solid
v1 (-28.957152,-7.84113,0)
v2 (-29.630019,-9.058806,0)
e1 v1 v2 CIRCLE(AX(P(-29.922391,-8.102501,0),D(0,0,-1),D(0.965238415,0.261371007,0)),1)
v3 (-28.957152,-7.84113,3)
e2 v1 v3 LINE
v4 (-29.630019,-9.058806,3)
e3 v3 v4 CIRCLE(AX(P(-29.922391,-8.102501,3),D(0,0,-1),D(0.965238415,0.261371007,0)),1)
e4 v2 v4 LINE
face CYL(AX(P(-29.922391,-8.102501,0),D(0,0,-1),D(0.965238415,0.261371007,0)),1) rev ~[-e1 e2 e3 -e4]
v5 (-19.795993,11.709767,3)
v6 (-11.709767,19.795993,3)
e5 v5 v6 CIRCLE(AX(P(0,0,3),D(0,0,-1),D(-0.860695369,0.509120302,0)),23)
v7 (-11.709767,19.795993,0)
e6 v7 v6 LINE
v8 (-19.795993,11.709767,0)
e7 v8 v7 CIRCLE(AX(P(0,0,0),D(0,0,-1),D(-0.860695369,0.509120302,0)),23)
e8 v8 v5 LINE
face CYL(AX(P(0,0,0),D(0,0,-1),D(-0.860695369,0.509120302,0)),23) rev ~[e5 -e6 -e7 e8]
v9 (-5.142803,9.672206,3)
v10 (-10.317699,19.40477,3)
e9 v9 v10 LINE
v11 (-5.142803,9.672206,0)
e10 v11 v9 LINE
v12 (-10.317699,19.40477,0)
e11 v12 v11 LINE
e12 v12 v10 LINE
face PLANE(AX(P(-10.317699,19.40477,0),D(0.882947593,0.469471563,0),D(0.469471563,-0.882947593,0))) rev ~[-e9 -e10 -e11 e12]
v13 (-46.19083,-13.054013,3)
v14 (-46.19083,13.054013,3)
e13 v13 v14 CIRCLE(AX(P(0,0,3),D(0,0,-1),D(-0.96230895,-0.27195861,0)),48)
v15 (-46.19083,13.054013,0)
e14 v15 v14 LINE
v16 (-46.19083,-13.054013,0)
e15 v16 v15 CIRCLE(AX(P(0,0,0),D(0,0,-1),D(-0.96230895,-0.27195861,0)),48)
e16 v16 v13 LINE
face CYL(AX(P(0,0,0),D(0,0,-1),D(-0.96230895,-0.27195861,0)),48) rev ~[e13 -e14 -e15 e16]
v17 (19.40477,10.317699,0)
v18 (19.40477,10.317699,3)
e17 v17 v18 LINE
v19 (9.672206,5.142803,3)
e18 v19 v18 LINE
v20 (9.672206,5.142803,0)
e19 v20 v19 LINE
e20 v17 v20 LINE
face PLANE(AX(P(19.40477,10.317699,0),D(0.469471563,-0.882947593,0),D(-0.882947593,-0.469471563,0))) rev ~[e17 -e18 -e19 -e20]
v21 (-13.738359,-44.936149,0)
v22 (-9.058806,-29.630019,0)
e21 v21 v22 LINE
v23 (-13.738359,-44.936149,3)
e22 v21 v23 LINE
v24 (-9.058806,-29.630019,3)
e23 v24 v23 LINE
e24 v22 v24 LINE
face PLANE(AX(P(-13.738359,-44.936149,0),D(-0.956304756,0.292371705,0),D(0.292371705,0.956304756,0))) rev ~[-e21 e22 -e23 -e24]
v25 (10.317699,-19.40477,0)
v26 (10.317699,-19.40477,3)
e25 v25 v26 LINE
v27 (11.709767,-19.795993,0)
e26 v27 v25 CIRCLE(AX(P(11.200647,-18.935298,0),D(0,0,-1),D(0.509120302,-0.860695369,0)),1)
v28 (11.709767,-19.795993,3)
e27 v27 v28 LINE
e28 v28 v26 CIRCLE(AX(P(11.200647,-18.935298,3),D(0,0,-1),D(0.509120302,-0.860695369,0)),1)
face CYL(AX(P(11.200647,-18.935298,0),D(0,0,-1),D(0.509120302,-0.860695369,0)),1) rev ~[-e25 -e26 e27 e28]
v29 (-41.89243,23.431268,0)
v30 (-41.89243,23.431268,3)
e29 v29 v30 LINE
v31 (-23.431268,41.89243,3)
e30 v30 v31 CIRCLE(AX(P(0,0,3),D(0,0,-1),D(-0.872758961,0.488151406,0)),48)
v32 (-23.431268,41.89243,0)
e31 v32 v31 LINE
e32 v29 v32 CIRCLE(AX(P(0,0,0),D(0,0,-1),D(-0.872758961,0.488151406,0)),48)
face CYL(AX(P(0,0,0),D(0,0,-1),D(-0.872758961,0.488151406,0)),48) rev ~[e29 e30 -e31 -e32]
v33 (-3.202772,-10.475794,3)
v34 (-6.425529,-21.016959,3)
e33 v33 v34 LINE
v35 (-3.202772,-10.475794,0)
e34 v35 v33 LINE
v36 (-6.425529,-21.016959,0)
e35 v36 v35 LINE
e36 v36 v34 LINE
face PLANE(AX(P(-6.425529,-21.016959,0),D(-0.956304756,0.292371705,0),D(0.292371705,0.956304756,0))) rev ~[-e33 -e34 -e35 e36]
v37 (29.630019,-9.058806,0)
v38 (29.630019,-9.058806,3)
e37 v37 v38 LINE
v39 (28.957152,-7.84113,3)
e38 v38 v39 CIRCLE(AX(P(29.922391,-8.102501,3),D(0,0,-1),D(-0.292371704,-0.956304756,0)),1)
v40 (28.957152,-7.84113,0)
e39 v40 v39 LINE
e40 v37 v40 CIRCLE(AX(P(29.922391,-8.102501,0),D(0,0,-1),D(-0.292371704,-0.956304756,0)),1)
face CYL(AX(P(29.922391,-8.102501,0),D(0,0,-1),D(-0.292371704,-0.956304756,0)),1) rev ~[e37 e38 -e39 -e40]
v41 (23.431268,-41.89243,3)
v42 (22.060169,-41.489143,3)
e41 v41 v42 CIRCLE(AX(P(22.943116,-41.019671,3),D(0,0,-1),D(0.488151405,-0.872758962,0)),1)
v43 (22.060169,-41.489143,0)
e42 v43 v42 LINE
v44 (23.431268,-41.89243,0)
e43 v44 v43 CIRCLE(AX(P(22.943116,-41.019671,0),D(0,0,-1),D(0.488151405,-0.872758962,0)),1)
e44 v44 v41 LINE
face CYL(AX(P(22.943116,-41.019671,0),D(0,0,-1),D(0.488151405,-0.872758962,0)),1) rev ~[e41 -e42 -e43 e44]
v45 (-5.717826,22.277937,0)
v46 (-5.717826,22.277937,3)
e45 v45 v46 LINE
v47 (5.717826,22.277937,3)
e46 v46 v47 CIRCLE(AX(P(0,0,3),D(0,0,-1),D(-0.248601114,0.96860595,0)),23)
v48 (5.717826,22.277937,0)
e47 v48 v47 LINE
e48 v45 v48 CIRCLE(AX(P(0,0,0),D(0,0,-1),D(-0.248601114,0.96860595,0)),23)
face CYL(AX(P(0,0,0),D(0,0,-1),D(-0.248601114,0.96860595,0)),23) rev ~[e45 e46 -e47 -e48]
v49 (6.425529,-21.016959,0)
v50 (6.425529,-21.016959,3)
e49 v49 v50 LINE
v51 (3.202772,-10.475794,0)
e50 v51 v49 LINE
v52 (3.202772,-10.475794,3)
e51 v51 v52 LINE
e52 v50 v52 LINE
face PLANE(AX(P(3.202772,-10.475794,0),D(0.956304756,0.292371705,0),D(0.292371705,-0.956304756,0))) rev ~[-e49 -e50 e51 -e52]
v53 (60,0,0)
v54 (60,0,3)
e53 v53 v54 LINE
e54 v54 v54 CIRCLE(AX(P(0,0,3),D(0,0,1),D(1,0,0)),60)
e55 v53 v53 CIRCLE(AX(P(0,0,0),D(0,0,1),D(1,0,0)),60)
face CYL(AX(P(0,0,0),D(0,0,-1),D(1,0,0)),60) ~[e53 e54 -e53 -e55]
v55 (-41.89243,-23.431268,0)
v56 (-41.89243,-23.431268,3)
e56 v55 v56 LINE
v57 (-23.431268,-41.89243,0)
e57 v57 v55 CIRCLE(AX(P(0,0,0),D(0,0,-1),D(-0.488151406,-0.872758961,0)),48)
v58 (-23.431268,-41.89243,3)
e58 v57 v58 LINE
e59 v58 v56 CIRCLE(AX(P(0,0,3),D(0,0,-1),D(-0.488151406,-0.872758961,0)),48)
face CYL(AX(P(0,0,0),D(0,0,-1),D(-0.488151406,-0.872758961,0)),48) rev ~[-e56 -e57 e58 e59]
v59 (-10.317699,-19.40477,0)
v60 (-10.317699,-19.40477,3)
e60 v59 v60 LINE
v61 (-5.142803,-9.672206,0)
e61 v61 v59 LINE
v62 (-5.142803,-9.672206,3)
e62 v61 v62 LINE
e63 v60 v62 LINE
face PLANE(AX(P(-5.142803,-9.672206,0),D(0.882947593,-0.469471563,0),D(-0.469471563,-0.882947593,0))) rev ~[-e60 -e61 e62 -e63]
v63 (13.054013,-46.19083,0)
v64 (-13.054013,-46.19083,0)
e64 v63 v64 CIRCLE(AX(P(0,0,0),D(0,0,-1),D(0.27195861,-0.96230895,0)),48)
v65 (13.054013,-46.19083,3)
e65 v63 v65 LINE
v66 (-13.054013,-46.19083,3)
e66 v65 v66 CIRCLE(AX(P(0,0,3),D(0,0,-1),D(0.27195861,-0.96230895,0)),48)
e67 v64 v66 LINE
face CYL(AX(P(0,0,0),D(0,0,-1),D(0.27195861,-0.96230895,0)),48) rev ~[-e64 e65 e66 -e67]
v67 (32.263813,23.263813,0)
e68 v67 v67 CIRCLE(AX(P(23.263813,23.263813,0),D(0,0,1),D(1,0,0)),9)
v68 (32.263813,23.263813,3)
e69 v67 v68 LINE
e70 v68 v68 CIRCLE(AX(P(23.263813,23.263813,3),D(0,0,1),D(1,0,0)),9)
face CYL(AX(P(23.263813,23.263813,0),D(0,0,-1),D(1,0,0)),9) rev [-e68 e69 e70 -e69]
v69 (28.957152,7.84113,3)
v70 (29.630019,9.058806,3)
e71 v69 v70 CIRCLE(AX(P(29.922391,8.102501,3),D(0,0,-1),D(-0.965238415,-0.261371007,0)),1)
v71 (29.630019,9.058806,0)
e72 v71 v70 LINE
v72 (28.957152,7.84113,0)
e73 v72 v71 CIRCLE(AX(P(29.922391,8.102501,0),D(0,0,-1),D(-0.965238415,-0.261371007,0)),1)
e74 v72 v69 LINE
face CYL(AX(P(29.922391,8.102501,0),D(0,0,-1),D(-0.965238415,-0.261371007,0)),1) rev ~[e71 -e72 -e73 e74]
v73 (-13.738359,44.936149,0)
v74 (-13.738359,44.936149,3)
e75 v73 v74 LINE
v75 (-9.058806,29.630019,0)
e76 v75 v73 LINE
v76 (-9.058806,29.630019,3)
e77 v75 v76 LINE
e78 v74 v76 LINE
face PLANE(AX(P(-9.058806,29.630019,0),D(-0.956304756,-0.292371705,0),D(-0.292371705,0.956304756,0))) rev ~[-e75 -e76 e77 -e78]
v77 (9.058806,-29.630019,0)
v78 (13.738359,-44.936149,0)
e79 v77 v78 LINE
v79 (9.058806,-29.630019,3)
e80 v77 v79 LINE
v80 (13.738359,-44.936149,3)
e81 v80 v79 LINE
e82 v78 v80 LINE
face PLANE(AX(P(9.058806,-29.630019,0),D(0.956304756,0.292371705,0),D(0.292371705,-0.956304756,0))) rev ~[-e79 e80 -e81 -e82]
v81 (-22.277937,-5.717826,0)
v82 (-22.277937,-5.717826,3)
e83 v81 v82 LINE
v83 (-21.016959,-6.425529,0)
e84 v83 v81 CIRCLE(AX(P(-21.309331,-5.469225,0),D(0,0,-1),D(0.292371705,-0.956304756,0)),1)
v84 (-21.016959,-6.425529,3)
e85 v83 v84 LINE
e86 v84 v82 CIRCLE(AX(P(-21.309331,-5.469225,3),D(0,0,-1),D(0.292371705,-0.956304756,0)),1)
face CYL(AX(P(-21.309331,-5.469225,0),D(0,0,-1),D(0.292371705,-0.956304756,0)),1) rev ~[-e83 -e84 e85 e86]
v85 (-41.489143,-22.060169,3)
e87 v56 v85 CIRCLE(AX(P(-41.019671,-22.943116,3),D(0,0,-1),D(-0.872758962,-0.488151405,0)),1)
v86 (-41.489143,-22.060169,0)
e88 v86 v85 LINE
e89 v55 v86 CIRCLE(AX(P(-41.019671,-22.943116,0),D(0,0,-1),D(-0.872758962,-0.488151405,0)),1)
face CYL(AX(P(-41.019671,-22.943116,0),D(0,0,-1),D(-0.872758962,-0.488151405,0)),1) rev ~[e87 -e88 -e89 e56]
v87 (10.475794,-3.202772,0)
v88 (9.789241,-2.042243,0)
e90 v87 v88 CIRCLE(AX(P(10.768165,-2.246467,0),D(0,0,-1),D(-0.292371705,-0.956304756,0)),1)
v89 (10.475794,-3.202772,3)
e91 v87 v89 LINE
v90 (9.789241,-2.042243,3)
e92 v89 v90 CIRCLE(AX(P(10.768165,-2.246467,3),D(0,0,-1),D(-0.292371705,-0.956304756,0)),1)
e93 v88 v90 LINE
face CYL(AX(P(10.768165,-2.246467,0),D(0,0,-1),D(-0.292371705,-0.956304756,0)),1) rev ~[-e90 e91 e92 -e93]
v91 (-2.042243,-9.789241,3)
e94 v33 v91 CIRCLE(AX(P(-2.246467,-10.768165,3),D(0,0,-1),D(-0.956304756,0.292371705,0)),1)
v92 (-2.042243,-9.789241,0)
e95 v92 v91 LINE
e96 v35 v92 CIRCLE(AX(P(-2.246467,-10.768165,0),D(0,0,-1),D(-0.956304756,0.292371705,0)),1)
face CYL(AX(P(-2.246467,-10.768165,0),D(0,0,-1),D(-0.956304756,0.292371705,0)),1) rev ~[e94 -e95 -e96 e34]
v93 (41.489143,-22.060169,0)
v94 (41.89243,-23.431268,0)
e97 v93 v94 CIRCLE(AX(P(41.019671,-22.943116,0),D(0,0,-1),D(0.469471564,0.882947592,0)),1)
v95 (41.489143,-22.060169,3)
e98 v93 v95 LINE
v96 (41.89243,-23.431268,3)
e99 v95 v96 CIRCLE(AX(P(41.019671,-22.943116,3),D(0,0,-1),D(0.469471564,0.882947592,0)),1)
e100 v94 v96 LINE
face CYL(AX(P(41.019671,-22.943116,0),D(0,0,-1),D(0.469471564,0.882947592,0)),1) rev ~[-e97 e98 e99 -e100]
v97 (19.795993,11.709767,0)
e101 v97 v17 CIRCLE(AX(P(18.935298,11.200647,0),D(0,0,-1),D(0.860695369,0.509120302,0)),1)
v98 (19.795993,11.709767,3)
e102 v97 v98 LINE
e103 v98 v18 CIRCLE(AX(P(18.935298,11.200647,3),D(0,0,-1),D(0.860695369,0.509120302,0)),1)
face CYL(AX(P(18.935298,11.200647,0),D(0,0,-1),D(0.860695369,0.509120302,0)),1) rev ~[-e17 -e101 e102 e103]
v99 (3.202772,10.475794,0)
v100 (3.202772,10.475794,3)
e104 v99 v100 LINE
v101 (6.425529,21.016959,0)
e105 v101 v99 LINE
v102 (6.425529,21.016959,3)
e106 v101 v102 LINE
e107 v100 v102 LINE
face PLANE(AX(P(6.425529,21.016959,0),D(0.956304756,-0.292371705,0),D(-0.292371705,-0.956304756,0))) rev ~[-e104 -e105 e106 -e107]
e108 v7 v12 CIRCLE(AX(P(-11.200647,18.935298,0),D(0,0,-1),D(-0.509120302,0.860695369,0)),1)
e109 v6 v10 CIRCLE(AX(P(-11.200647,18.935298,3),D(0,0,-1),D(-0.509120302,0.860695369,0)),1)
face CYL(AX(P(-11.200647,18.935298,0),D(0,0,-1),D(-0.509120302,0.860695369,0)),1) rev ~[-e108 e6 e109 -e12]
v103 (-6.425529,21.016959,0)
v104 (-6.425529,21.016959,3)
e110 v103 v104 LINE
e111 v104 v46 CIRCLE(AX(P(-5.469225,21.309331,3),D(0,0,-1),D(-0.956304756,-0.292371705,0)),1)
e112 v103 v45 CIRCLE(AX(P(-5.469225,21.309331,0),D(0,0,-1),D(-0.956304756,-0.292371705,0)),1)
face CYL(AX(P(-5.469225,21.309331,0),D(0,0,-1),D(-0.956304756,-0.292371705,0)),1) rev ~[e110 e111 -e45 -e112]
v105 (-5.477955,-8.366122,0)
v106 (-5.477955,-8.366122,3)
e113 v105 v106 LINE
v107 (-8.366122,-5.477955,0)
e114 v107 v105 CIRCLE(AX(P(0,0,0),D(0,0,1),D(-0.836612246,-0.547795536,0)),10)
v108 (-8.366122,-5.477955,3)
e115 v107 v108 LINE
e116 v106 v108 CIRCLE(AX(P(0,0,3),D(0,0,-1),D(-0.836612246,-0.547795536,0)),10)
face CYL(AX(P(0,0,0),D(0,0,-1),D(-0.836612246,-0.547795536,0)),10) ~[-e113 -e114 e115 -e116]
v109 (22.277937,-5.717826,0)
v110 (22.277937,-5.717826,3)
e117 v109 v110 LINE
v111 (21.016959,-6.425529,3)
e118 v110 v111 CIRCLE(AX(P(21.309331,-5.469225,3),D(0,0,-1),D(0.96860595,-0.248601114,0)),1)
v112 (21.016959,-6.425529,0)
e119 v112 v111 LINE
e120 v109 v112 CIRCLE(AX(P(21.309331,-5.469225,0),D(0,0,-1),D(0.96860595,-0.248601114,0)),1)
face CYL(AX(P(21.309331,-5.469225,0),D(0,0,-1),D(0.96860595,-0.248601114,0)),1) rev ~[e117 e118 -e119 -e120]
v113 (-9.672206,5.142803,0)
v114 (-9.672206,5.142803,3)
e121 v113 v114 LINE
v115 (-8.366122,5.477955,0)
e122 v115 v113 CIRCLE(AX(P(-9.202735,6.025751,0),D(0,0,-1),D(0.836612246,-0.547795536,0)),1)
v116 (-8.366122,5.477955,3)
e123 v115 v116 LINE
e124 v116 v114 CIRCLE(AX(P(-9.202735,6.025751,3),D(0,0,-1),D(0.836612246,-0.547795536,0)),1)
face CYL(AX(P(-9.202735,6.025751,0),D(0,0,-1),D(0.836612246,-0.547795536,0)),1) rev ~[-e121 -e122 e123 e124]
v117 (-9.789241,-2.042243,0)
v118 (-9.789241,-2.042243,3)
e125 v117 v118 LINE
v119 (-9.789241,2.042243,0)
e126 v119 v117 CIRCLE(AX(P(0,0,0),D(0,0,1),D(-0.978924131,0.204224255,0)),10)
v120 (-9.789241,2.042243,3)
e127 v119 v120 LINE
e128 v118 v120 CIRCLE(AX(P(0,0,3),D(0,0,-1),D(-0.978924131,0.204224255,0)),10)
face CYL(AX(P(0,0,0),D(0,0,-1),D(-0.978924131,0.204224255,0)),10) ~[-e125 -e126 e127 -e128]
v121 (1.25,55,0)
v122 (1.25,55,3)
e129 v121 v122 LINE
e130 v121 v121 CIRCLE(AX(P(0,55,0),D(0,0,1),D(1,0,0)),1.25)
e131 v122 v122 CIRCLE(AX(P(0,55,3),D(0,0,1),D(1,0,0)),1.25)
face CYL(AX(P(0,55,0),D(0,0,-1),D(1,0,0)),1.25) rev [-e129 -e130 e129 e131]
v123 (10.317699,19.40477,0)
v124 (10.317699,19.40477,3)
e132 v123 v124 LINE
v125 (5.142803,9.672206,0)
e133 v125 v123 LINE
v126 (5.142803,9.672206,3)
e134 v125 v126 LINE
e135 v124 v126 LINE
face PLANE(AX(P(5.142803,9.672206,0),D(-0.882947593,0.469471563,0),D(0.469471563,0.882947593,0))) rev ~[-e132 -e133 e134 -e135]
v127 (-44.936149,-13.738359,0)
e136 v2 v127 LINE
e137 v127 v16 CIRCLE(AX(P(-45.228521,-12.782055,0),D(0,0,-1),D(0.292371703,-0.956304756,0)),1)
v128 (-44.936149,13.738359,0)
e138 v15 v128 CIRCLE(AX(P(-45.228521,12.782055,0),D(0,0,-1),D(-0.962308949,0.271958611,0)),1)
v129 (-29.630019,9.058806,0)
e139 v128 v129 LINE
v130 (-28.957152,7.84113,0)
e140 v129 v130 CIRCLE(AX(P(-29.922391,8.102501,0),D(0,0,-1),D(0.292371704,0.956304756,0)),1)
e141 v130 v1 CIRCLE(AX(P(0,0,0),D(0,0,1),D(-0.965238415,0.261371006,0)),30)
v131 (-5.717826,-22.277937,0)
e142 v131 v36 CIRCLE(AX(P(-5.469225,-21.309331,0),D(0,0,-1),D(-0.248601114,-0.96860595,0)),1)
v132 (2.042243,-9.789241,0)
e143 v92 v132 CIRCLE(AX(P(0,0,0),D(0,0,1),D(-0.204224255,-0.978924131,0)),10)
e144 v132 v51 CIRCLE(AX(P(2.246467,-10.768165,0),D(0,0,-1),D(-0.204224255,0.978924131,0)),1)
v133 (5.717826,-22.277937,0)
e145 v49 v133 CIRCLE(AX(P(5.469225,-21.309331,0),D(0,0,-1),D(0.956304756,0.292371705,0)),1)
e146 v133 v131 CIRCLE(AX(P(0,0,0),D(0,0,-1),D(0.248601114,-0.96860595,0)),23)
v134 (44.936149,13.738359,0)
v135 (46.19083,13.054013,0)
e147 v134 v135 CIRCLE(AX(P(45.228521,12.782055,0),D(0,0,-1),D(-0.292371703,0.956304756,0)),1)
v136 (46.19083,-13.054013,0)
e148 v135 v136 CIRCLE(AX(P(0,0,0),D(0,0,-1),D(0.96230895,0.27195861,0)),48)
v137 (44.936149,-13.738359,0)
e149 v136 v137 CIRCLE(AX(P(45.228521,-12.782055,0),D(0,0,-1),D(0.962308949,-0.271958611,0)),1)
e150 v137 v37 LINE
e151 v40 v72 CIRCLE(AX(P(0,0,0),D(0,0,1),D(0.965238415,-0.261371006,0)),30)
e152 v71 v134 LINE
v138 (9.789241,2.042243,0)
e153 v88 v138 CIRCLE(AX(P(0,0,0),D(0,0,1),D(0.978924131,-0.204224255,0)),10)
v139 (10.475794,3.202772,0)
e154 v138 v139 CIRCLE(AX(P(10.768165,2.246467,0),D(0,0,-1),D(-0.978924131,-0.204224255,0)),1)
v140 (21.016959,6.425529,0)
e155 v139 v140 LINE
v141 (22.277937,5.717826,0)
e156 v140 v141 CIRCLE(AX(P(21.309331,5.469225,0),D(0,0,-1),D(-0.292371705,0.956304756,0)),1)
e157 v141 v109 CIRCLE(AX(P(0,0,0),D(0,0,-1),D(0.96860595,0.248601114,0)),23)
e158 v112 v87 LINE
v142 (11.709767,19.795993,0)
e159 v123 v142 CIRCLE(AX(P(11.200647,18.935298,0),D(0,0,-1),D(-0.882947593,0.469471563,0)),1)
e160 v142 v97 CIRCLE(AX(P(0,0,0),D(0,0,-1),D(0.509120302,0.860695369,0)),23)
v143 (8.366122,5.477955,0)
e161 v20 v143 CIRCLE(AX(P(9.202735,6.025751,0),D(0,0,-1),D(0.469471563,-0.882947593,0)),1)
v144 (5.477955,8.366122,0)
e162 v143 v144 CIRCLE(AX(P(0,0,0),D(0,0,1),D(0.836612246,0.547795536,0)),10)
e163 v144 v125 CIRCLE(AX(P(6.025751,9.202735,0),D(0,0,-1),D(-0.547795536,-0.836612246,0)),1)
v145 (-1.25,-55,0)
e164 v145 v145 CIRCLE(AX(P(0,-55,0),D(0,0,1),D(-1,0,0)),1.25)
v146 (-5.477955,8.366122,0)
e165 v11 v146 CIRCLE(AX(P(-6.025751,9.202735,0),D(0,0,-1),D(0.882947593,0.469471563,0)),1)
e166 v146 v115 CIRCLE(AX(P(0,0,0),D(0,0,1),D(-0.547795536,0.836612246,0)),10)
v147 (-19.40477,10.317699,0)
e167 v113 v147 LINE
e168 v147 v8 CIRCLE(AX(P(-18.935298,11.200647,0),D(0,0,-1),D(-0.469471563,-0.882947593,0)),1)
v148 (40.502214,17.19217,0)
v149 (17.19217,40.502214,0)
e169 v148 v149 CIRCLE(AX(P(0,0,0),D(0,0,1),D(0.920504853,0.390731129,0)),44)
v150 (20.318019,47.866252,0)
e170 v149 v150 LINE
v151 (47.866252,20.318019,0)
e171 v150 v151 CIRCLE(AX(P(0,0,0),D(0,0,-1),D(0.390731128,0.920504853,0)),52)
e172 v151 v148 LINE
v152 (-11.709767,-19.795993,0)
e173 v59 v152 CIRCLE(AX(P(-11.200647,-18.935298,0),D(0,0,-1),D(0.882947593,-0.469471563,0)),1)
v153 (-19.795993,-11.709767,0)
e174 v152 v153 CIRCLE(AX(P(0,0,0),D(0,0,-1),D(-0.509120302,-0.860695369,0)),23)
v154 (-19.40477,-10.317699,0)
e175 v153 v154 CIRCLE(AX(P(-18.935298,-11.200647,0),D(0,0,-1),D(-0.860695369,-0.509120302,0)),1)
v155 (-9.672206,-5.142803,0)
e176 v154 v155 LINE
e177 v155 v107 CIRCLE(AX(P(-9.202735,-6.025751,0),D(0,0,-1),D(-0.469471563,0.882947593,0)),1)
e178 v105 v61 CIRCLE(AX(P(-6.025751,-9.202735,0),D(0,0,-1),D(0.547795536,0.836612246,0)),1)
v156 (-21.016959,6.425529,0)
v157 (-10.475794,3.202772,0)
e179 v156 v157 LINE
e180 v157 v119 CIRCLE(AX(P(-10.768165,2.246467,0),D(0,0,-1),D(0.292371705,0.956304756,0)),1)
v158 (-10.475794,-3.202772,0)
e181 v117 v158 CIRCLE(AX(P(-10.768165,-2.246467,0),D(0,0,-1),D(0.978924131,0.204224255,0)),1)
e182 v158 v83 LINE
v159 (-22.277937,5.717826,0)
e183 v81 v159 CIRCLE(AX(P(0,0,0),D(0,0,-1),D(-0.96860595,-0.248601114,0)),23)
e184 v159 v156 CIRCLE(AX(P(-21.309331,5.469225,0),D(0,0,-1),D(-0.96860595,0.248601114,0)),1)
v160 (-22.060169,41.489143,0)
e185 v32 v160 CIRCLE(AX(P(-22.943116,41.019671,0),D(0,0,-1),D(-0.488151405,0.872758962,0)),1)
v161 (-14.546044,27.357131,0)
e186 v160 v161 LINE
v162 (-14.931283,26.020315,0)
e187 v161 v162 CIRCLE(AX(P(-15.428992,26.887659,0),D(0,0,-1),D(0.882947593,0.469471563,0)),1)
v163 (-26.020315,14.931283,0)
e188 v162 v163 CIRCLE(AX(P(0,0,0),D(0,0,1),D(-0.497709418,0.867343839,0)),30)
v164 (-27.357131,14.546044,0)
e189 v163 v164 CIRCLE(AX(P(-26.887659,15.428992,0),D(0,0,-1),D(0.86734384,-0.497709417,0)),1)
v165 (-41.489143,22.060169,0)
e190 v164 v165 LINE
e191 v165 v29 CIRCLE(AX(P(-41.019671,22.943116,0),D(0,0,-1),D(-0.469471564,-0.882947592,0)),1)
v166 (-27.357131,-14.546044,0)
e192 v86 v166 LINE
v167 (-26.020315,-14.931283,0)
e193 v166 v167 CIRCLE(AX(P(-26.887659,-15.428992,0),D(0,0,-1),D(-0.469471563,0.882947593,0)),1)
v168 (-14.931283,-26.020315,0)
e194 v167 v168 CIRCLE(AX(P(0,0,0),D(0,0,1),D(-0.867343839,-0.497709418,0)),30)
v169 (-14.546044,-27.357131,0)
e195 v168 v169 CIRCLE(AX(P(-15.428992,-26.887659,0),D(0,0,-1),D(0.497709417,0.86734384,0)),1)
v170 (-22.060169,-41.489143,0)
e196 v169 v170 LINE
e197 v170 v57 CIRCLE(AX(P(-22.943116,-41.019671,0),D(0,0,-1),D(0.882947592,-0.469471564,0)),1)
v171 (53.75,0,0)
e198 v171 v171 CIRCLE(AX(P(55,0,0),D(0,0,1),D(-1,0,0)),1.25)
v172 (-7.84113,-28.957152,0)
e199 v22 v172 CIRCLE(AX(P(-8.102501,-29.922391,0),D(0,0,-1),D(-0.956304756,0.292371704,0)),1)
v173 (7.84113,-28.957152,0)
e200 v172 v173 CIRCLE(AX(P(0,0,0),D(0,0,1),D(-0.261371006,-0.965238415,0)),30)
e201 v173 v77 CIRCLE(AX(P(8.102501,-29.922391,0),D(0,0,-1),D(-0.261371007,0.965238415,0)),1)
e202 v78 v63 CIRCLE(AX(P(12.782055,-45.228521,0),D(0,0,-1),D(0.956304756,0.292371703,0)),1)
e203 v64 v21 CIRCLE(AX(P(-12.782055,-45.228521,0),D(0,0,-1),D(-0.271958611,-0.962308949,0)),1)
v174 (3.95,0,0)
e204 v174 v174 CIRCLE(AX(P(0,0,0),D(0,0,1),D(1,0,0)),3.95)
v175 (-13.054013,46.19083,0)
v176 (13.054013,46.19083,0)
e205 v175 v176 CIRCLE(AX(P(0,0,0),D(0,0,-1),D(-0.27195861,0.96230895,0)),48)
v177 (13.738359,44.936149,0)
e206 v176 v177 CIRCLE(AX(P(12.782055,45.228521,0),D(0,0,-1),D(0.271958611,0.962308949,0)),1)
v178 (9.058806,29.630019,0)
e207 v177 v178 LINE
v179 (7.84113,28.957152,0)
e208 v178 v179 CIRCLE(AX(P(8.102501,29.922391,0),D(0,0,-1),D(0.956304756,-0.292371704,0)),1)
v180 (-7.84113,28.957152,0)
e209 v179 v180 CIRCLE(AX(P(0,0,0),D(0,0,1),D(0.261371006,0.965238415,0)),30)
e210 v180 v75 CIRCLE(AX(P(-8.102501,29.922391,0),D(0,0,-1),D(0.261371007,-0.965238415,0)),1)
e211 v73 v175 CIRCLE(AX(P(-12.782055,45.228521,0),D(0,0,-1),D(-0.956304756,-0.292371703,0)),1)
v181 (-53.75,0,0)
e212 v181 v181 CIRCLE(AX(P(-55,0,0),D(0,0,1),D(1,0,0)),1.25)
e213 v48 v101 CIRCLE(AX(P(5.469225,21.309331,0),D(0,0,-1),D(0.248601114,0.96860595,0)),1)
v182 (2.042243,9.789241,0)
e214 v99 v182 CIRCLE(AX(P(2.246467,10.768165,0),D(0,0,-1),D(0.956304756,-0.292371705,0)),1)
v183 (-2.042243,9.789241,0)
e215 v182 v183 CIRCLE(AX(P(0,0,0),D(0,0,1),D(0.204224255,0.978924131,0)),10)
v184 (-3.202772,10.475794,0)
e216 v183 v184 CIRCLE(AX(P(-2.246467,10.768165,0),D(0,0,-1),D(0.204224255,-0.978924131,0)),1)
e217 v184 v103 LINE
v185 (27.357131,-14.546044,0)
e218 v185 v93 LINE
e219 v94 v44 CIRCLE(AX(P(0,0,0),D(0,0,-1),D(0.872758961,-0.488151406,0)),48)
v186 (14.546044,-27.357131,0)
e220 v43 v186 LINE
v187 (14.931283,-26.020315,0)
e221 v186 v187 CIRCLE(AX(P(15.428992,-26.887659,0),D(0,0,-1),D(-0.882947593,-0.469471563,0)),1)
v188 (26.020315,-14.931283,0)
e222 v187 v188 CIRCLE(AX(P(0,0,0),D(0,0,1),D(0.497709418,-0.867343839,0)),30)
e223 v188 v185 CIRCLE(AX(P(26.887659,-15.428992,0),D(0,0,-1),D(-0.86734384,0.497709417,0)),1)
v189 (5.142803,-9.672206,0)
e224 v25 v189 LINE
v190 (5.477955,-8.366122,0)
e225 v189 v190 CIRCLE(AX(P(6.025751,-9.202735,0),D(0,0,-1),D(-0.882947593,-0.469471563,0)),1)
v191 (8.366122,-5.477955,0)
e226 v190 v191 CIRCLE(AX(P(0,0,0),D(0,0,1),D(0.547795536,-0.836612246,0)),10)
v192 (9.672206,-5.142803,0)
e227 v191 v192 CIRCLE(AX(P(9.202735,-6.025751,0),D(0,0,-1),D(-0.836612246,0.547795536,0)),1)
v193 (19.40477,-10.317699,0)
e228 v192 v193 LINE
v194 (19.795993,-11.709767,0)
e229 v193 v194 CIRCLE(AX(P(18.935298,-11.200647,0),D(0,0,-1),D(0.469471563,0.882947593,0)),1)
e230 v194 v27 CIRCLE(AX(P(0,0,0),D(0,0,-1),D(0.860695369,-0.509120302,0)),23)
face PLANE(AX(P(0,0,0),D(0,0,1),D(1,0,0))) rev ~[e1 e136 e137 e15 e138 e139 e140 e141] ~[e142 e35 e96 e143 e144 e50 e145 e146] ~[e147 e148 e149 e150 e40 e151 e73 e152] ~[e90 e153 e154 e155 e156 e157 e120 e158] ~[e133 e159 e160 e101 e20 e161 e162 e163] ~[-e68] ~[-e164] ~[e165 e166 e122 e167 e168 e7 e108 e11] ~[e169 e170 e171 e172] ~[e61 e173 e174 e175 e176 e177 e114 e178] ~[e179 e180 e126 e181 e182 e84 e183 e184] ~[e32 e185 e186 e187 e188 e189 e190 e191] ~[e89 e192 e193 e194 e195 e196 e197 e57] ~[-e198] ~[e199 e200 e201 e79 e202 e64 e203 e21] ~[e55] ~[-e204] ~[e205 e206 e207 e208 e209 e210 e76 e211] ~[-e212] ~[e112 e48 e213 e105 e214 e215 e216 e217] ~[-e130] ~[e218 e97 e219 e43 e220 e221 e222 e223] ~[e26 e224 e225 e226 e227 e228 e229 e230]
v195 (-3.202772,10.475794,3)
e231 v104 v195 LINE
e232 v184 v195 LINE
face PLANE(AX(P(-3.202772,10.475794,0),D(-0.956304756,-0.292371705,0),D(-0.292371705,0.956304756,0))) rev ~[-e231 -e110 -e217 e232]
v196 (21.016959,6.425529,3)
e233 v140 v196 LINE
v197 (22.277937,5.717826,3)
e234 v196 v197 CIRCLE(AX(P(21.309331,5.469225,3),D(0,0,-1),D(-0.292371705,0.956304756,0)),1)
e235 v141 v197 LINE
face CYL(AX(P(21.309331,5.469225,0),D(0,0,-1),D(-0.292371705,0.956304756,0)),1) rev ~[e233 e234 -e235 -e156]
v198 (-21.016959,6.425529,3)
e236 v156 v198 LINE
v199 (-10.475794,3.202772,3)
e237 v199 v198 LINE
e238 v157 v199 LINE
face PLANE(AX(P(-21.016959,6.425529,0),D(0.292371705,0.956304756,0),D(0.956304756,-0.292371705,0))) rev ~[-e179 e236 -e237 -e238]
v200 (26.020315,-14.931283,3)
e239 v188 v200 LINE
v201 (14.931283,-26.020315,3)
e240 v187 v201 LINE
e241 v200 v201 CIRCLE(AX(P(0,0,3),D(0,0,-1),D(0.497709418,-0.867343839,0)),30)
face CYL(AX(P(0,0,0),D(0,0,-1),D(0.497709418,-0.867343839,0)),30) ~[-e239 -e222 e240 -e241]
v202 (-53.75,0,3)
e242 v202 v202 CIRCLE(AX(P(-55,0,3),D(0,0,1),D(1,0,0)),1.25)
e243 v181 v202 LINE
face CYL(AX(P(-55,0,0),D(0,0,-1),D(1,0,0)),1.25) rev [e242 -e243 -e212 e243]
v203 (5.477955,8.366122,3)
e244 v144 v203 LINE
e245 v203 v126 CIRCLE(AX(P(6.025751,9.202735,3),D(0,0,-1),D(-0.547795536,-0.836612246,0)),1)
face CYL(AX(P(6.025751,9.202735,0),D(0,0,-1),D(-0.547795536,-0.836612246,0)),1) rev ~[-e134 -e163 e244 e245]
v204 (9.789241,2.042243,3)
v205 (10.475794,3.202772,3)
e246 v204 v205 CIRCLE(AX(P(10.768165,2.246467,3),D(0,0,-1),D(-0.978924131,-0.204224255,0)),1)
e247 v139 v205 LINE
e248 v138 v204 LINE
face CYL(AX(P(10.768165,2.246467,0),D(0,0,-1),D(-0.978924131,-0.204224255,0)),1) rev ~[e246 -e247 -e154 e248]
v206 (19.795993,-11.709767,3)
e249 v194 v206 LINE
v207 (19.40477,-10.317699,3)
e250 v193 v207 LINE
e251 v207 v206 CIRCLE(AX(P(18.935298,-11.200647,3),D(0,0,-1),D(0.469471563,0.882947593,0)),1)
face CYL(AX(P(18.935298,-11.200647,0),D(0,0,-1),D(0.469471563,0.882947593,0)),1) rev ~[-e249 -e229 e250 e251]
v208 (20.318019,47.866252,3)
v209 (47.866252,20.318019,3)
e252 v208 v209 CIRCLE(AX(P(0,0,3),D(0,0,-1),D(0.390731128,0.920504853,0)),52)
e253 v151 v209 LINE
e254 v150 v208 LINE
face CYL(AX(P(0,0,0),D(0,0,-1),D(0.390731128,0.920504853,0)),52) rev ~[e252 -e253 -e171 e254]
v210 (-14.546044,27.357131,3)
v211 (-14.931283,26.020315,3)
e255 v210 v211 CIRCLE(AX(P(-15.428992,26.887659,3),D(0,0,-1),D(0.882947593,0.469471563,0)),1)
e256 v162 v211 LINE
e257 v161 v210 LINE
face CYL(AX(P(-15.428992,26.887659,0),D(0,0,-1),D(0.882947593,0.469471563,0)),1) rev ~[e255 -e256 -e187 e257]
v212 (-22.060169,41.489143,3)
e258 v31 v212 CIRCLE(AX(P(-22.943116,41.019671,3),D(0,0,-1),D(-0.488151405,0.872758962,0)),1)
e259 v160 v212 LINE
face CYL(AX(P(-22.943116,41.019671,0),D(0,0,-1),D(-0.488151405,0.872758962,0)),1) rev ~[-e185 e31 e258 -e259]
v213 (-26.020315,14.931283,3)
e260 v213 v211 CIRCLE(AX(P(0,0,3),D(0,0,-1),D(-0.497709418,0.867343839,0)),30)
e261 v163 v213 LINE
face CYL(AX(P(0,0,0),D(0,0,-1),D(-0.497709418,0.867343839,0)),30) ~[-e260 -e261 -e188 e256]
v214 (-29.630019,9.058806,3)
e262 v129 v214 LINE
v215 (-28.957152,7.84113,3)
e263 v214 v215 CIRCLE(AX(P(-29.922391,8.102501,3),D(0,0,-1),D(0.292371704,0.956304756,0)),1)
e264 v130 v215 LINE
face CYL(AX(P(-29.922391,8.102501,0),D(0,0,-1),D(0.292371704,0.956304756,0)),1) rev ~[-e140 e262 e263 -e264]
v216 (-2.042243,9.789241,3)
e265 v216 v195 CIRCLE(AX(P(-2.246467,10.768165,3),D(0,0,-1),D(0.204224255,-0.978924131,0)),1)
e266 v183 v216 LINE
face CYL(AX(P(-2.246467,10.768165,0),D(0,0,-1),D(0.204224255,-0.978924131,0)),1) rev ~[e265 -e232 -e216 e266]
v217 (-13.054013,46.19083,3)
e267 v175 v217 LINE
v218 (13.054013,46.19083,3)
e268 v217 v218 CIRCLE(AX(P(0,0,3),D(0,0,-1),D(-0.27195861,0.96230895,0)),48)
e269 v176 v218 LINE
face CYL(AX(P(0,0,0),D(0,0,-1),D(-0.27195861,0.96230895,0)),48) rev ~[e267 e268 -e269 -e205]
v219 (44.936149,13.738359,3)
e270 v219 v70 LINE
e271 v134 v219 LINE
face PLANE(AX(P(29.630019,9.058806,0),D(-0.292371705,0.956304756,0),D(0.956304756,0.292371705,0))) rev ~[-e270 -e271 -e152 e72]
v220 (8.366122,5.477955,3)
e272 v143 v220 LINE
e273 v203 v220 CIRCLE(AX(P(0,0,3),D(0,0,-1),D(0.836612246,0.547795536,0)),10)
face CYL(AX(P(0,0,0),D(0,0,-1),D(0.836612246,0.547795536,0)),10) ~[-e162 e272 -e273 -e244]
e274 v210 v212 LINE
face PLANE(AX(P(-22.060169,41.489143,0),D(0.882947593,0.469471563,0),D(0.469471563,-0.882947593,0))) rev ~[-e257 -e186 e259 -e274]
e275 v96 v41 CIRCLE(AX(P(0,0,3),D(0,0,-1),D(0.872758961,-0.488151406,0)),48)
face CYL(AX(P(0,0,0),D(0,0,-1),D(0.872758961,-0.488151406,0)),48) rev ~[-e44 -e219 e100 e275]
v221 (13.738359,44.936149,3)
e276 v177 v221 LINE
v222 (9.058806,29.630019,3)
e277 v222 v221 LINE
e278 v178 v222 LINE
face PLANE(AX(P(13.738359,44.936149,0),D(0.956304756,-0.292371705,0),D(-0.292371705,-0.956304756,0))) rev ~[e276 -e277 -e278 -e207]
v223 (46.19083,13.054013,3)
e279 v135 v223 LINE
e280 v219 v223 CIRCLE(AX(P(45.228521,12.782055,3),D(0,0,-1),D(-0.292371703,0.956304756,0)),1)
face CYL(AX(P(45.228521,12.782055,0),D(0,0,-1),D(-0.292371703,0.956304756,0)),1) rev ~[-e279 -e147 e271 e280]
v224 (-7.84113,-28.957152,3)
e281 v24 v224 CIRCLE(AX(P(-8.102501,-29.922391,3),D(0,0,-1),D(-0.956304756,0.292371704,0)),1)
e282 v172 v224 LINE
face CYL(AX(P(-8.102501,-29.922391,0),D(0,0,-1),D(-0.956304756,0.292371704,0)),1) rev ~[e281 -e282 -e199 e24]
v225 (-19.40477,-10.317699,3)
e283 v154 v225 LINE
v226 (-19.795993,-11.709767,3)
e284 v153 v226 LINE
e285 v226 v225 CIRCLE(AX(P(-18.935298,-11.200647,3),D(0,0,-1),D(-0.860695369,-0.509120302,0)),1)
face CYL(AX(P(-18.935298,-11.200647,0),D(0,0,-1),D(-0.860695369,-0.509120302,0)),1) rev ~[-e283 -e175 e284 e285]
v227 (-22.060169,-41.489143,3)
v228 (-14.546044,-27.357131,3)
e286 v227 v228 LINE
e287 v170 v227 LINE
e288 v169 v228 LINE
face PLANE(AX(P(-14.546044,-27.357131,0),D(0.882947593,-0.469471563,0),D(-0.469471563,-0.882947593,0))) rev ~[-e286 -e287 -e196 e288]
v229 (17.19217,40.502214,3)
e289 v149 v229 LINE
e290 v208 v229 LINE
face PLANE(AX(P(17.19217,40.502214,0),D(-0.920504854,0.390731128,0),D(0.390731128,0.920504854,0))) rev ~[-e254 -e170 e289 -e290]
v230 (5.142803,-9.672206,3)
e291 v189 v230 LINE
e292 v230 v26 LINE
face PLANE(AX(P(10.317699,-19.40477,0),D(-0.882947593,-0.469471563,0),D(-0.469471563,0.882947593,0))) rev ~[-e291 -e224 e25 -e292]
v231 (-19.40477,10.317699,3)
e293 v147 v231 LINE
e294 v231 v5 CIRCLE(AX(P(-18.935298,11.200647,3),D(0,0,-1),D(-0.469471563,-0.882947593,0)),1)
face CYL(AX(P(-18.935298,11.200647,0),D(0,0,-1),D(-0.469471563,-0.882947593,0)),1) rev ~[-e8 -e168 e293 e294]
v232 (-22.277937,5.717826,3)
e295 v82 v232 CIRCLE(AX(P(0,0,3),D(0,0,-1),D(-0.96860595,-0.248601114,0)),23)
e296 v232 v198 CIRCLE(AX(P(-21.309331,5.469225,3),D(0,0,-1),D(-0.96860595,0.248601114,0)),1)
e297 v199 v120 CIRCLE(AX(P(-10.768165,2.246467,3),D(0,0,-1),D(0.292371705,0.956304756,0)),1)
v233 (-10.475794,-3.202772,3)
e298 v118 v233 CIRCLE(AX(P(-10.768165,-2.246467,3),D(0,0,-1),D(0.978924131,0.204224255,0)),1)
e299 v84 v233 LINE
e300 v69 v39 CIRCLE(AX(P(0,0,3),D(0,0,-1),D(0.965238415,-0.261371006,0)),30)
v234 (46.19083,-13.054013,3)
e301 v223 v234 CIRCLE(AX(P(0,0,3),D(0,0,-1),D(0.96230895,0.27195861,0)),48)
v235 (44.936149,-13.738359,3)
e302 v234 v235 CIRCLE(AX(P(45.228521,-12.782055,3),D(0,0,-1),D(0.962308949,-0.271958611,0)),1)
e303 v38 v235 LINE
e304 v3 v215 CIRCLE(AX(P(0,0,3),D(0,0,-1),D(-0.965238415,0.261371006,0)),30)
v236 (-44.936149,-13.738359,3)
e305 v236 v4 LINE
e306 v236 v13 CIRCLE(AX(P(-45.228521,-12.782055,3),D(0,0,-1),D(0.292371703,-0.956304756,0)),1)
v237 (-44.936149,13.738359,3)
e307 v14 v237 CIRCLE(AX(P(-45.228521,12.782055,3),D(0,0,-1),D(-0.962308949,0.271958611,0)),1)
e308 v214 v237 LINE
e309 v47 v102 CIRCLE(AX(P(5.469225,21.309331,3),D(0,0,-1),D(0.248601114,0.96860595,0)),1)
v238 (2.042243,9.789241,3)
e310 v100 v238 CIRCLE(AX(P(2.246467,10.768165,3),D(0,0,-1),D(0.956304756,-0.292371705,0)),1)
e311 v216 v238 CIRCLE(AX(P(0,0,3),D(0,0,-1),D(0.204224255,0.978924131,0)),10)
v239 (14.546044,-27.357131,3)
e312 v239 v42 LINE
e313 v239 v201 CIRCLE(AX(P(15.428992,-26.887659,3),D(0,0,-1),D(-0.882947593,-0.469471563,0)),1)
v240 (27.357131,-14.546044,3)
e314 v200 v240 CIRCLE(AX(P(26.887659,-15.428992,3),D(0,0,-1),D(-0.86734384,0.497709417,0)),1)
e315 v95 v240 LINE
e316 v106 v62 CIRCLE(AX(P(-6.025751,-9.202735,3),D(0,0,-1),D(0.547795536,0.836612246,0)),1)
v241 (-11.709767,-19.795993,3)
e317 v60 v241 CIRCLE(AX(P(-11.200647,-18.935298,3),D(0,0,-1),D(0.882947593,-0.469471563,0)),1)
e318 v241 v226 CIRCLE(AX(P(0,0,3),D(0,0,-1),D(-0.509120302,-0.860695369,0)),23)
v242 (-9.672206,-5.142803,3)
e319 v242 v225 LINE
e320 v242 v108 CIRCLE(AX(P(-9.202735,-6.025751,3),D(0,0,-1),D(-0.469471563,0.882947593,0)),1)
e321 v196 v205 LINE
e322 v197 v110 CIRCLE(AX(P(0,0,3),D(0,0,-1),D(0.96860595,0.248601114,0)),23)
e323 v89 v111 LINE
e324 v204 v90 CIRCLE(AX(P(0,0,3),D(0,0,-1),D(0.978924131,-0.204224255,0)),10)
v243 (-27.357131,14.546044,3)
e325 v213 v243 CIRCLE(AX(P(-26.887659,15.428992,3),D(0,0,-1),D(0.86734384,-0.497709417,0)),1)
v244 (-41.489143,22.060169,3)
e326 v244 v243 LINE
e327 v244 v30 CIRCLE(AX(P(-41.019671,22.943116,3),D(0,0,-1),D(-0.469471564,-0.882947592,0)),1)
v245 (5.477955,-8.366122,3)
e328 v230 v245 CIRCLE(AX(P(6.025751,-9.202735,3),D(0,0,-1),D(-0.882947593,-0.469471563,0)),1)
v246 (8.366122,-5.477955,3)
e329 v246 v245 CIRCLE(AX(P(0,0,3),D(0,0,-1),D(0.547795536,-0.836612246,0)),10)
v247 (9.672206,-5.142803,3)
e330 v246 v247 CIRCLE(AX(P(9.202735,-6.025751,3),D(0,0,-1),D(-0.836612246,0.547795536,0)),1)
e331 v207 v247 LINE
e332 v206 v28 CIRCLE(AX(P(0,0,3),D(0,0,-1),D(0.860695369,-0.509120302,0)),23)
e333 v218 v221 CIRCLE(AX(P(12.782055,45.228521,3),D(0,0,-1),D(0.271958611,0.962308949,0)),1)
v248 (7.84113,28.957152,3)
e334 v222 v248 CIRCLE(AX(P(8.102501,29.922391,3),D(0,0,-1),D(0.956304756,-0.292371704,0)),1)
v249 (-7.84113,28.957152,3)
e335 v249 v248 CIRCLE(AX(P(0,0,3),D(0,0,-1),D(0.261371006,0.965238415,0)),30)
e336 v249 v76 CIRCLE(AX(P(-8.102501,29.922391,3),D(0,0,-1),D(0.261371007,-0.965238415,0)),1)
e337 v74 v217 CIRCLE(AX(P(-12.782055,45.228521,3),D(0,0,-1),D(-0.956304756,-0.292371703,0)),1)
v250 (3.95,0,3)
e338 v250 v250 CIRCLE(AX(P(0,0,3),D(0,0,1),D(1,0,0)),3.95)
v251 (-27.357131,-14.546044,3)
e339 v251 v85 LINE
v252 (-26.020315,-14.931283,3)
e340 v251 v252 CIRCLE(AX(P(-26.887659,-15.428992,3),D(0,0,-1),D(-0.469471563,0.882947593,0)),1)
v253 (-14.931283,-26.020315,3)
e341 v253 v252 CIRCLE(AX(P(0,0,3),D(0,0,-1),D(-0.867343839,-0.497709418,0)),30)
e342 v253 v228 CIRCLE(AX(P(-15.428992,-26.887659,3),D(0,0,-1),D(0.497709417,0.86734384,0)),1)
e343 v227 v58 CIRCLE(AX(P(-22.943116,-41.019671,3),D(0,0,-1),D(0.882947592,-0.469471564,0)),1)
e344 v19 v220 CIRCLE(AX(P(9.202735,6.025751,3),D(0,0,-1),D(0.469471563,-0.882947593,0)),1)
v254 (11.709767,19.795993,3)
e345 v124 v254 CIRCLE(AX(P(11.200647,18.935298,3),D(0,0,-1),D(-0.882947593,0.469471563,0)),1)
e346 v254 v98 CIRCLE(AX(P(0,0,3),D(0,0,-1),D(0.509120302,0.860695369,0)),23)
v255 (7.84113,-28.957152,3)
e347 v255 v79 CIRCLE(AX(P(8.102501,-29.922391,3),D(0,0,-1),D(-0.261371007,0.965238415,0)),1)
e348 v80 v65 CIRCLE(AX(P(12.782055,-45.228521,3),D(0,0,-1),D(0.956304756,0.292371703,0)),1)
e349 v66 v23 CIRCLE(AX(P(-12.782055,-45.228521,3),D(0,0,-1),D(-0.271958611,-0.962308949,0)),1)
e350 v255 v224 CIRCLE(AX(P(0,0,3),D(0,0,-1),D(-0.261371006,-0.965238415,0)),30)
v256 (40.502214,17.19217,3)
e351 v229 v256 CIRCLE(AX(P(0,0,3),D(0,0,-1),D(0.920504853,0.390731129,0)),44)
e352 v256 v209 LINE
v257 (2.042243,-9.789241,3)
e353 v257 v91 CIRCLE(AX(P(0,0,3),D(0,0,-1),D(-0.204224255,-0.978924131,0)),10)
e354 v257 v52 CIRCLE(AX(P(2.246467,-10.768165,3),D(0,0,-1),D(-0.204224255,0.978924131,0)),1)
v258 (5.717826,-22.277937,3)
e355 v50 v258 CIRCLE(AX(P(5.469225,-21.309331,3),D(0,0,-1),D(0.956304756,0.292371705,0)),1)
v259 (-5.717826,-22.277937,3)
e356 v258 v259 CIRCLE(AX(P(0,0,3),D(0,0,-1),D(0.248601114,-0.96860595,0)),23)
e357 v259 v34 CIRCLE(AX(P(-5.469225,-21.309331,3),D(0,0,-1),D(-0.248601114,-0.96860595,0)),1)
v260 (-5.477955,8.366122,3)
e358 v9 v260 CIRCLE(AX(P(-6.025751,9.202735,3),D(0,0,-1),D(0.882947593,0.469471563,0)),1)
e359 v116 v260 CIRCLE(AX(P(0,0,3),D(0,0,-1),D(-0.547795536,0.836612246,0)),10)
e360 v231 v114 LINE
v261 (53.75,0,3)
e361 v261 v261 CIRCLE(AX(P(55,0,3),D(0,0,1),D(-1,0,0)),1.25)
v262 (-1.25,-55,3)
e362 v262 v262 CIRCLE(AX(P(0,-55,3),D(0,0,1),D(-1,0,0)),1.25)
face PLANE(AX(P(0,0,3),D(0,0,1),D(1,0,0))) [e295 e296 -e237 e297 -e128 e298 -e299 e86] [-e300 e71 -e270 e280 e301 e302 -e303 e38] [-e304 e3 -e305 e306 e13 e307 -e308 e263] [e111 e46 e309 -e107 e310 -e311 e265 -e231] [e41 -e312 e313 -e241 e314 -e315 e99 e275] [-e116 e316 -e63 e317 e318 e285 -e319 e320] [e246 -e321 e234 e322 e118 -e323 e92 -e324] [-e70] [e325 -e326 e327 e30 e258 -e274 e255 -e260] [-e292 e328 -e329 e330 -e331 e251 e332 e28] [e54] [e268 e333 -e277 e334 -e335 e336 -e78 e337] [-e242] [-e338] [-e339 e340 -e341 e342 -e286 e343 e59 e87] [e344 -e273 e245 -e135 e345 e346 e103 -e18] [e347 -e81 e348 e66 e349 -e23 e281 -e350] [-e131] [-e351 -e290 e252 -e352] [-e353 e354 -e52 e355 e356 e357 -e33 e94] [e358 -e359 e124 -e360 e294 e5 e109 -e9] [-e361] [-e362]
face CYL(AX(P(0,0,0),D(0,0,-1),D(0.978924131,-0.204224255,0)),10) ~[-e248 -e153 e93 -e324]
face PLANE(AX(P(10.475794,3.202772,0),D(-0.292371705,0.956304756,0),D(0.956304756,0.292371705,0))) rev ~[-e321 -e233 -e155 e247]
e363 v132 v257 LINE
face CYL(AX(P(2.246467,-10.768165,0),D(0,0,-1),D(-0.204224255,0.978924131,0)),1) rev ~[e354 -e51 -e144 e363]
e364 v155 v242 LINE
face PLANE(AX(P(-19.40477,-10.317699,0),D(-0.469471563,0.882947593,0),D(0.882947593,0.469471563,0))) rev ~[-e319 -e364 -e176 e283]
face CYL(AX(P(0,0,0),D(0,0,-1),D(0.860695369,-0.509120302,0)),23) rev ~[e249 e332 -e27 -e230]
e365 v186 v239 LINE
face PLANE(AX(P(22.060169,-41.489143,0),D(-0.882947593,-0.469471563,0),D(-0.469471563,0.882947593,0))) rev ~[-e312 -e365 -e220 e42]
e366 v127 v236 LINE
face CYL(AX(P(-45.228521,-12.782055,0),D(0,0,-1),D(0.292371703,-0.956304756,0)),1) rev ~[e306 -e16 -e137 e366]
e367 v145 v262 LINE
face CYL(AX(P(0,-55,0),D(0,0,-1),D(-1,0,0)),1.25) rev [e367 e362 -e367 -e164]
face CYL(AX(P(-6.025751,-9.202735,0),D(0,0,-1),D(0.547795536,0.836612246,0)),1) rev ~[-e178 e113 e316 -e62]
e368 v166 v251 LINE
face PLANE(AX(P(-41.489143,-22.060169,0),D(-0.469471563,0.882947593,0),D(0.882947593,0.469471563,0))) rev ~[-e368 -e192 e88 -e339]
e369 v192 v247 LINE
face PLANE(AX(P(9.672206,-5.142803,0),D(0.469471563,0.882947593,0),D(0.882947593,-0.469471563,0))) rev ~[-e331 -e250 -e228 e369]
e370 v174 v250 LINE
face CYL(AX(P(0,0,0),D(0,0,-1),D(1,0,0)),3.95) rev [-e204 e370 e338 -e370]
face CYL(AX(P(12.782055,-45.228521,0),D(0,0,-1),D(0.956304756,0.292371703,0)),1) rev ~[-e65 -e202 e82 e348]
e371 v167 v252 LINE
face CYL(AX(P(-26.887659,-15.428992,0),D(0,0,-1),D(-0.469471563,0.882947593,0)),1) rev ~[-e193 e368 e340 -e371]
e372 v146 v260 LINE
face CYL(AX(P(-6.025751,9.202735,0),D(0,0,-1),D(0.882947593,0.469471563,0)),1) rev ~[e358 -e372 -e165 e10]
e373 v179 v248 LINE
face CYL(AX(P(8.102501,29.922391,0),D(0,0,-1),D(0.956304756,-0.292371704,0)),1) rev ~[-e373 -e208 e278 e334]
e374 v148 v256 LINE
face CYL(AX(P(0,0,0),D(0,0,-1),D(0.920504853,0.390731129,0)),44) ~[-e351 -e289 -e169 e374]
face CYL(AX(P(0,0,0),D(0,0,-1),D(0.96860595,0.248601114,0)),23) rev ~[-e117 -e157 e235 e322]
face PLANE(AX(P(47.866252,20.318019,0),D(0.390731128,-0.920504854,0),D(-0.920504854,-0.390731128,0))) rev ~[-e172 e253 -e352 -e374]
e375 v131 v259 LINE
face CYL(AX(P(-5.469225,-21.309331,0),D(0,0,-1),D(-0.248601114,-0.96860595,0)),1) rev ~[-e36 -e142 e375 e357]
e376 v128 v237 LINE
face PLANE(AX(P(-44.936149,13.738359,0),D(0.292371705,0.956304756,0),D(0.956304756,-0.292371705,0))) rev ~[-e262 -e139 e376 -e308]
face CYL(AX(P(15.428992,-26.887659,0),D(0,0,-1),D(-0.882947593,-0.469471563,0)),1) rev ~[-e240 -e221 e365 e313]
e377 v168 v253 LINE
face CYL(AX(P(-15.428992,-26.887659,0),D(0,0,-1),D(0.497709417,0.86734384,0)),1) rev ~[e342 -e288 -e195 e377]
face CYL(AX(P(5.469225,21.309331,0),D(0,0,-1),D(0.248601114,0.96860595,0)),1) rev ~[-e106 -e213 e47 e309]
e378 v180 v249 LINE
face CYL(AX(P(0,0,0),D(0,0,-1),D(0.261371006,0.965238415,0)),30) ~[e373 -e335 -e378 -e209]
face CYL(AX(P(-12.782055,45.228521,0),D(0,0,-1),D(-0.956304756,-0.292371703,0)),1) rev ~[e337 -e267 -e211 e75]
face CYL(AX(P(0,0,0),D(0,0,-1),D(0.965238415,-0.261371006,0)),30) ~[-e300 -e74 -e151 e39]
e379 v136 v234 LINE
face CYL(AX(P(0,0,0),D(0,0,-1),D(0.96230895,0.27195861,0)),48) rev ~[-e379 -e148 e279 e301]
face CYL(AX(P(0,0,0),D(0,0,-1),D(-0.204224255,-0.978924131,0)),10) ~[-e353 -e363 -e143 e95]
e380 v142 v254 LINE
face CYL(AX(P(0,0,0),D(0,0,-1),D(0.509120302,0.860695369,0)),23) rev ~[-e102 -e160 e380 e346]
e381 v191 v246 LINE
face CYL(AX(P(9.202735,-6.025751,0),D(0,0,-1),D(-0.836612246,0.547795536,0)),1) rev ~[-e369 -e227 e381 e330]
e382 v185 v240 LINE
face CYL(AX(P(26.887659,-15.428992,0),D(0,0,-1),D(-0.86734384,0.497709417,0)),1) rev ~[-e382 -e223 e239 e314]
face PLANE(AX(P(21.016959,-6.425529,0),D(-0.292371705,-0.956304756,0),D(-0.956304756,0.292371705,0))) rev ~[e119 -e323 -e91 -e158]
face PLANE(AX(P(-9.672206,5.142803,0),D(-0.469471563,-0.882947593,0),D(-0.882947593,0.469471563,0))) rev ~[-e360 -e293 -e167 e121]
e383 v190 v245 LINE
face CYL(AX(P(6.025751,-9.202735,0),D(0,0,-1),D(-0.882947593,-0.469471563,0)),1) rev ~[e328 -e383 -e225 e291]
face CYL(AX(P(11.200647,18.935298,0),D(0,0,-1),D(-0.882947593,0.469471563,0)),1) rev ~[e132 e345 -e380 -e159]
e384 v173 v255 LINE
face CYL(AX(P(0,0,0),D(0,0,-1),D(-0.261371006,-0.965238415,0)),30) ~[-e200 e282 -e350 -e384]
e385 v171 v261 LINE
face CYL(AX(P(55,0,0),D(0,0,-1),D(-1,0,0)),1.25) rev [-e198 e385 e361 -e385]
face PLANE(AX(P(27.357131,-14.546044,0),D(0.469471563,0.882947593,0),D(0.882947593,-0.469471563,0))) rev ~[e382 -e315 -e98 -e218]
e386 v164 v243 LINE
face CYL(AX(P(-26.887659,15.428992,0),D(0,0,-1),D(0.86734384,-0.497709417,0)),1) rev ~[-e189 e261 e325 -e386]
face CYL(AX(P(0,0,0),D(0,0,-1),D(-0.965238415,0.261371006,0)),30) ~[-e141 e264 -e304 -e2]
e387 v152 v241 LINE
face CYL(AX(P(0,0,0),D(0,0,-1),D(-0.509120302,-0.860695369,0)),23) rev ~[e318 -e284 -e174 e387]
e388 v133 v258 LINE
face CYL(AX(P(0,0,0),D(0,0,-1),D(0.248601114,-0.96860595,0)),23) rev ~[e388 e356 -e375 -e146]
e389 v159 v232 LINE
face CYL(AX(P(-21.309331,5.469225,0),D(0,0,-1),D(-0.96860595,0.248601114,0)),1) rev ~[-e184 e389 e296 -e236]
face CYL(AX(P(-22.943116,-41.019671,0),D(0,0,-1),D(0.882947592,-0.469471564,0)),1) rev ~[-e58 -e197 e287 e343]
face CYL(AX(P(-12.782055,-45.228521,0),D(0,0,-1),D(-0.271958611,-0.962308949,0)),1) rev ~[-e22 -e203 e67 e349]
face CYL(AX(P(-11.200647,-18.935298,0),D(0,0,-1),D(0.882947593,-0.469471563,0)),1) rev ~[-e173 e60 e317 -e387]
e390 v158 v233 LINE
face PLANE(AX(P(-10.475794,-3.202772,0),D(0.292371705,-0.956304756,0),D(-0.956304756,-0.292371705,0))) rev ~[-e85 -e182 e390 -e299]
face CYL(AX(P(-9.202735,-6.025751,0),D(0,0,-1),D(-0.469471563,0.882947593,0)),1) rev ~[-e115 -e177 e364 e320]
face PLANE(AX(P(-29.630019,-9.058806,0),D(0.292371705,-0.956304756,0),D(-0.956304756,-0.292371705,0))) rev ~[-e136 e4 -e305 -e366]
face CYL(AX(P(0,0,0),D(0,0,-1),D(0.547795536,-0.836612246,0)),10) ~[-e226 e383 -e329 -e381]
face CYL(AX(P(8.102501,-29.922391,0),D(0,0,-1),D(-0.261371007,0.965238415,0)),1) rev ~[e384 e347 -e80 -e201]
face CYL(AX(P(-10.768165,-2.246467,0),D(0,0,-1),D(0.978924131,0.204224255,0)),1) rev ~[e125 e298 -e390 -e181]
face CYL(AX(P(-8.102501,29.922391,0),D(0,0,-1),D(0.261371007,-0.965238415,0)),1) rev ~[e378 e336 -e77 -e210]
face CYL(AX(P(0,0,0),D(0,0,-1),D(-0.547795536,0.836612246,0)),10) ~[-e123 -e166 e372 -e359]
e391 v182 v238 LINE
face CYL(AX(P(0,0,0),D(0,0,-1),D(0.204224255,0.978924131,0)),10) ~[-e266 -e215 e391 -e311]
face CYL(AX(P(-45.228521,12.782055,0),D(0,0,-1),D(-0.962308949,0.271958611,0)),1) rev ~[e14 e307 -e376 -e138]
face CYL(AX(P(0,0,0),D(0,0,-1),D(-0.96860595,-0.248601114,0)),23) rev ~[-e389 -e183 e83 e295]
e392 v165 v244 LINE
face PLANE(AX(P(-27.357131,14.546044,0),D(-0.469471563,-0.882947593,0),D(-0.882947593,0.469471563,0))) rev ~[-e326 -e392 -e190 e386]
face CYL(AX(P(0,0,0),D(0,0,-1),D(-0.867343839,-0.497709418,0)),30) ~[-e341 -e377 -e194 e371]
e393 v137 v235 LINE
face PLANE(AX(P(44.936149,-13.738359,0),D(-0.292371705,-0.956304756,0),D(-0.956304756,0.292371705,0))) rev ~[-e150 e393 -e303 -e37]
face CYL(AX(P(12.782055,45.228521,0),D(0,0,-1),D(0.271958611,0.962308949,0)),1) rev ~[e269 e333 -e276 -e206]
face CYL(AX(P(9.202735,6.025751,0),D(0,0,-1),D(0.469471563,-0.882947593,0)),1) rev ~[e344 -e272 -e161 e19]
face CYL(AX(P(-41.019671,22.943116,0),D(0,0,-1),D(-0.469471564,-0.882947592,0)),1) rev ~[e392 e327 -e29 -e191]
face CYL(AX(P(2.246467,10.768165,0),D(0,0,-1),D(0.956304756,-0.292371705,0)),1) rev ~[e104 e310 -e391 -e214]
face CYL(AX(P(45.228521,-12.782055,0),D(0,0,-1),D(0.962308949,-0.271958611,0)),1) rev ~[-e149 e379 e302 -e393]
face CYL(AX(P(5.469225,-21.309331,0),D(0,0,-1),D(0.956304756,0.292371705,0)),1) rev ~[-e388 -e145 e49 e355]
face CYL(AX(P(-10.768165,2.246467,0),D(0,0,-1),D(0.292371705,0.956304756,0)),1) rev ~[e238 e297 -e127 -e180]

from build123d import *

# Parameters (mm, degrees)
SKETCH_1_R               = 60
SKETCH_1_R_2             = 3.95
SKETCH_1_R_3             = 9
SKETCH_1_R_4             = 1.25
EXTRUDE_1_DEPTH          = 3
CUT_EXTRUDE_2_DEPTH      = 85.905830189
PATTERN_CIRCULAR_1_COUNT = 8
CUT_EXTRUDE_3_DEPTH      = 85.905830189
PATTERN_CIRCULAR_2_COUNT = 4
PATTERN_CIRCULAR_2_ANGLE = 135
PATTERN_CIRCULAR_3_COUNT = 4
PATTERN_CIRCULAR_3_ANGLE = 135
CUT_EXTRUDE_6_DEPTH      = 85.905830189


with BuildPart() as part:
    # 草图1 → 凸台-拉伸1 (new body)
    with BuildSketch(Plane.XY):
        Circle(SKETCH_1_R)
        Circle(SKETCH_1_R_2, mode=Mode.SUBTRACT)
        with Locations((23.263813101, 23.263813101)):
            Circle(SKETCH_1_R_3, mode=Mode.SUBTRACT)
        with Locations((0, 55)):
            Circle(SKETCH_1_R_4, mode=Mode.SUBTRACT)
        with Locations(Location((0, -55, 0), (0, 0, 180))):
            Circle(SKETCH_1_R_4, mode=Mode.SUBTRACT)
        with Locations((-55, 0)):
            Circle(SKETCH_1_R_4, mode=Mode.SUBTRACT)
        with Locations(Location((55, 0, 0), (0, 0, 180))):
            Circle(SKETCH_1_R_4, mode=Mode.SUBTRACT)
    extrude(amount=EXTRUDE_1_DEPTH)

    # 草图2 → 切除-拉伸2 (cut, through all)
    with BuildSketch(Plane(origin=(0, 0, 0), x_dir=(-1, 0, 0), z_dir=(0, 0, -1))):
        with BuildLine():
            Line((5.142803301, -9.672206274), (10.317699056, -19.404769676))
            ThreePointArc((10.317699056, -19.404769676), (10.930090319, -19.898002259), (11.709766951, -19.795993482))
            ThreePointArc((11.709766951, -19.795993482), (16.263455967, -16.263455967), (19.795993482, -11.709766951))
            ThreePointArc((19.795993482, -11.709766951), (19.898002259, -10.930090319), (19.404769676, -10.317699056))
            Line((19.404769676, -10.317699056), (9.672206274, -5.142803301))
            ThreePointArc((9.672206274, -5.142803301), (8.954179293, -5.057133217), (8.366122465, -5.477955358))
            ThreePointArc((8.366122465, -5.477955358), (7.071067812, -7.071067812), (5.477955358, -8.366122465))
            ThreePointArc((5.477955358, -8.366122465), (5.057133217, -8.954179293), (5.142803301, -9.672206274))
        make_face()
    cut_extrude_2 = extrude(amount=-CUT_EXTRUDE_2_DEPTH, mode=Mode.SUBTRACT)

    # 阵列(圆周)1: 切除-拉伸2 ×8 about axis
    pattern_circular_1_axis = Axis((0, 0, 0), (0, 0, 1))
    for i in range(1, PATTERN_CIRCULAR_1_COUNT):
        add(cut_extrude_2.rotate(pattern_circular_1_axis, i * 360 / PATTERN_CIRCULAR_1_COUNT), mode=Mode.SUBTRACT)

    # 草图3 → 切除-拉伸3 (cut, through all)
    with BuildSketch(Plane(origin=(0, 0, 0), x_dir=(-1, 0, 0), z_dir=(0, 0, -1))):
        with BuildLine():
            Line((14.546044354, -27.357130582), (22.060168507, -41.489142742))
            ThreePointArc((22.060168507, -41.489142742), (22.660934973, -41.979032326), (23.431267506, -41.89243014))
            ThreePointArc((23.431267506, -41.89243014), (33.941125497, -33.941125497), (41.89243014, -23.431267506))
            ThreePointArc((41.89243014, -23.431267506), (41.979032326, -22.660934973), (41.489142742, -22.060168507))
            Line((41.489142742, -22.060168507), (27.357130582, -14.546044354))
            ThreePointArc((27.357130582, -14.546044354), (26.610751634, -14.468095334), (26.02031518, -14.931282529))
            ThreePointArc((26.02031518, -14.931282529), (21.213203436, -21.213203436), (14.931282529, -26.02031518))
            ThreePointArc((14.931282529, -26.02031518), (14.468095334, -26.610751634), (14.546044354, -27.357130582))
        make_face()
    cut_extrude_3 = extrude(amount=-CUT_EXTRUDE_3_DEPTH, mode=Mode.SUBTRACT)

    # 阵列(圆周)2: 切除-拉伸3 ×4 about axis
    pattern_circular_2_axis = Axis((0, 0, 0), (0, 0, 1))
    for i in range(1, PATTERN_CIRCULAR_2_COUNT):
        add(cut_extrude_3.rotate(pattern_circular_2_axis, i * PATTERN_CIRCULAR_2_ANGLE / (PATTERN_CIRCULAR_2_COUNT - 1)), mode=Mode.SUBTRACT)

    # 阵列(圆周)3: 切除-拉伸3 ×4 about axis
    pattern_circular_3_axis = Axis((0, 0, 0), (0, 0, -1))
    for i in range(1, PATTERN_CIRCULAR_3_COUNT):
        add(cut_extrude_3.rotate(pattern_circular_3_axis, i * PATTERN_CIRCULAR_3_ANGLE / (PATTERN_CIRCULAR_3_COUNT - 1)), mode=Mode.SUBTRACT)

    # 草图4 → 切除-拉伸6 (cut, through all)
    with BuildSketch(Plane(origin=(0, 0, 0), x_dir=(-1, 0, 0), z_dir=(0, 0, -1))):
        with BuildLine():
            Line((-47.86625238, 20.318018681), (-40.502213552, 17.192169654))
            ThreePointArc((-40.502213552, 17.192169654), (-31.112698372, 31.112698372), (-17.192169654, 40.502213552))
            Line((-17.192169654, 40.502213552), (-20.318018681, 47.86625238))
            ThreePointArc((-20.318018681, 47.86625238), (-36.769552622, 36.769552622), (-47.86625238, 20.318018681))
        make_face()
    extrude(amount=-CUT_EXTRUDE_6_DEPTH, mode=Mode.SUBTRACT)


solid = part.part
